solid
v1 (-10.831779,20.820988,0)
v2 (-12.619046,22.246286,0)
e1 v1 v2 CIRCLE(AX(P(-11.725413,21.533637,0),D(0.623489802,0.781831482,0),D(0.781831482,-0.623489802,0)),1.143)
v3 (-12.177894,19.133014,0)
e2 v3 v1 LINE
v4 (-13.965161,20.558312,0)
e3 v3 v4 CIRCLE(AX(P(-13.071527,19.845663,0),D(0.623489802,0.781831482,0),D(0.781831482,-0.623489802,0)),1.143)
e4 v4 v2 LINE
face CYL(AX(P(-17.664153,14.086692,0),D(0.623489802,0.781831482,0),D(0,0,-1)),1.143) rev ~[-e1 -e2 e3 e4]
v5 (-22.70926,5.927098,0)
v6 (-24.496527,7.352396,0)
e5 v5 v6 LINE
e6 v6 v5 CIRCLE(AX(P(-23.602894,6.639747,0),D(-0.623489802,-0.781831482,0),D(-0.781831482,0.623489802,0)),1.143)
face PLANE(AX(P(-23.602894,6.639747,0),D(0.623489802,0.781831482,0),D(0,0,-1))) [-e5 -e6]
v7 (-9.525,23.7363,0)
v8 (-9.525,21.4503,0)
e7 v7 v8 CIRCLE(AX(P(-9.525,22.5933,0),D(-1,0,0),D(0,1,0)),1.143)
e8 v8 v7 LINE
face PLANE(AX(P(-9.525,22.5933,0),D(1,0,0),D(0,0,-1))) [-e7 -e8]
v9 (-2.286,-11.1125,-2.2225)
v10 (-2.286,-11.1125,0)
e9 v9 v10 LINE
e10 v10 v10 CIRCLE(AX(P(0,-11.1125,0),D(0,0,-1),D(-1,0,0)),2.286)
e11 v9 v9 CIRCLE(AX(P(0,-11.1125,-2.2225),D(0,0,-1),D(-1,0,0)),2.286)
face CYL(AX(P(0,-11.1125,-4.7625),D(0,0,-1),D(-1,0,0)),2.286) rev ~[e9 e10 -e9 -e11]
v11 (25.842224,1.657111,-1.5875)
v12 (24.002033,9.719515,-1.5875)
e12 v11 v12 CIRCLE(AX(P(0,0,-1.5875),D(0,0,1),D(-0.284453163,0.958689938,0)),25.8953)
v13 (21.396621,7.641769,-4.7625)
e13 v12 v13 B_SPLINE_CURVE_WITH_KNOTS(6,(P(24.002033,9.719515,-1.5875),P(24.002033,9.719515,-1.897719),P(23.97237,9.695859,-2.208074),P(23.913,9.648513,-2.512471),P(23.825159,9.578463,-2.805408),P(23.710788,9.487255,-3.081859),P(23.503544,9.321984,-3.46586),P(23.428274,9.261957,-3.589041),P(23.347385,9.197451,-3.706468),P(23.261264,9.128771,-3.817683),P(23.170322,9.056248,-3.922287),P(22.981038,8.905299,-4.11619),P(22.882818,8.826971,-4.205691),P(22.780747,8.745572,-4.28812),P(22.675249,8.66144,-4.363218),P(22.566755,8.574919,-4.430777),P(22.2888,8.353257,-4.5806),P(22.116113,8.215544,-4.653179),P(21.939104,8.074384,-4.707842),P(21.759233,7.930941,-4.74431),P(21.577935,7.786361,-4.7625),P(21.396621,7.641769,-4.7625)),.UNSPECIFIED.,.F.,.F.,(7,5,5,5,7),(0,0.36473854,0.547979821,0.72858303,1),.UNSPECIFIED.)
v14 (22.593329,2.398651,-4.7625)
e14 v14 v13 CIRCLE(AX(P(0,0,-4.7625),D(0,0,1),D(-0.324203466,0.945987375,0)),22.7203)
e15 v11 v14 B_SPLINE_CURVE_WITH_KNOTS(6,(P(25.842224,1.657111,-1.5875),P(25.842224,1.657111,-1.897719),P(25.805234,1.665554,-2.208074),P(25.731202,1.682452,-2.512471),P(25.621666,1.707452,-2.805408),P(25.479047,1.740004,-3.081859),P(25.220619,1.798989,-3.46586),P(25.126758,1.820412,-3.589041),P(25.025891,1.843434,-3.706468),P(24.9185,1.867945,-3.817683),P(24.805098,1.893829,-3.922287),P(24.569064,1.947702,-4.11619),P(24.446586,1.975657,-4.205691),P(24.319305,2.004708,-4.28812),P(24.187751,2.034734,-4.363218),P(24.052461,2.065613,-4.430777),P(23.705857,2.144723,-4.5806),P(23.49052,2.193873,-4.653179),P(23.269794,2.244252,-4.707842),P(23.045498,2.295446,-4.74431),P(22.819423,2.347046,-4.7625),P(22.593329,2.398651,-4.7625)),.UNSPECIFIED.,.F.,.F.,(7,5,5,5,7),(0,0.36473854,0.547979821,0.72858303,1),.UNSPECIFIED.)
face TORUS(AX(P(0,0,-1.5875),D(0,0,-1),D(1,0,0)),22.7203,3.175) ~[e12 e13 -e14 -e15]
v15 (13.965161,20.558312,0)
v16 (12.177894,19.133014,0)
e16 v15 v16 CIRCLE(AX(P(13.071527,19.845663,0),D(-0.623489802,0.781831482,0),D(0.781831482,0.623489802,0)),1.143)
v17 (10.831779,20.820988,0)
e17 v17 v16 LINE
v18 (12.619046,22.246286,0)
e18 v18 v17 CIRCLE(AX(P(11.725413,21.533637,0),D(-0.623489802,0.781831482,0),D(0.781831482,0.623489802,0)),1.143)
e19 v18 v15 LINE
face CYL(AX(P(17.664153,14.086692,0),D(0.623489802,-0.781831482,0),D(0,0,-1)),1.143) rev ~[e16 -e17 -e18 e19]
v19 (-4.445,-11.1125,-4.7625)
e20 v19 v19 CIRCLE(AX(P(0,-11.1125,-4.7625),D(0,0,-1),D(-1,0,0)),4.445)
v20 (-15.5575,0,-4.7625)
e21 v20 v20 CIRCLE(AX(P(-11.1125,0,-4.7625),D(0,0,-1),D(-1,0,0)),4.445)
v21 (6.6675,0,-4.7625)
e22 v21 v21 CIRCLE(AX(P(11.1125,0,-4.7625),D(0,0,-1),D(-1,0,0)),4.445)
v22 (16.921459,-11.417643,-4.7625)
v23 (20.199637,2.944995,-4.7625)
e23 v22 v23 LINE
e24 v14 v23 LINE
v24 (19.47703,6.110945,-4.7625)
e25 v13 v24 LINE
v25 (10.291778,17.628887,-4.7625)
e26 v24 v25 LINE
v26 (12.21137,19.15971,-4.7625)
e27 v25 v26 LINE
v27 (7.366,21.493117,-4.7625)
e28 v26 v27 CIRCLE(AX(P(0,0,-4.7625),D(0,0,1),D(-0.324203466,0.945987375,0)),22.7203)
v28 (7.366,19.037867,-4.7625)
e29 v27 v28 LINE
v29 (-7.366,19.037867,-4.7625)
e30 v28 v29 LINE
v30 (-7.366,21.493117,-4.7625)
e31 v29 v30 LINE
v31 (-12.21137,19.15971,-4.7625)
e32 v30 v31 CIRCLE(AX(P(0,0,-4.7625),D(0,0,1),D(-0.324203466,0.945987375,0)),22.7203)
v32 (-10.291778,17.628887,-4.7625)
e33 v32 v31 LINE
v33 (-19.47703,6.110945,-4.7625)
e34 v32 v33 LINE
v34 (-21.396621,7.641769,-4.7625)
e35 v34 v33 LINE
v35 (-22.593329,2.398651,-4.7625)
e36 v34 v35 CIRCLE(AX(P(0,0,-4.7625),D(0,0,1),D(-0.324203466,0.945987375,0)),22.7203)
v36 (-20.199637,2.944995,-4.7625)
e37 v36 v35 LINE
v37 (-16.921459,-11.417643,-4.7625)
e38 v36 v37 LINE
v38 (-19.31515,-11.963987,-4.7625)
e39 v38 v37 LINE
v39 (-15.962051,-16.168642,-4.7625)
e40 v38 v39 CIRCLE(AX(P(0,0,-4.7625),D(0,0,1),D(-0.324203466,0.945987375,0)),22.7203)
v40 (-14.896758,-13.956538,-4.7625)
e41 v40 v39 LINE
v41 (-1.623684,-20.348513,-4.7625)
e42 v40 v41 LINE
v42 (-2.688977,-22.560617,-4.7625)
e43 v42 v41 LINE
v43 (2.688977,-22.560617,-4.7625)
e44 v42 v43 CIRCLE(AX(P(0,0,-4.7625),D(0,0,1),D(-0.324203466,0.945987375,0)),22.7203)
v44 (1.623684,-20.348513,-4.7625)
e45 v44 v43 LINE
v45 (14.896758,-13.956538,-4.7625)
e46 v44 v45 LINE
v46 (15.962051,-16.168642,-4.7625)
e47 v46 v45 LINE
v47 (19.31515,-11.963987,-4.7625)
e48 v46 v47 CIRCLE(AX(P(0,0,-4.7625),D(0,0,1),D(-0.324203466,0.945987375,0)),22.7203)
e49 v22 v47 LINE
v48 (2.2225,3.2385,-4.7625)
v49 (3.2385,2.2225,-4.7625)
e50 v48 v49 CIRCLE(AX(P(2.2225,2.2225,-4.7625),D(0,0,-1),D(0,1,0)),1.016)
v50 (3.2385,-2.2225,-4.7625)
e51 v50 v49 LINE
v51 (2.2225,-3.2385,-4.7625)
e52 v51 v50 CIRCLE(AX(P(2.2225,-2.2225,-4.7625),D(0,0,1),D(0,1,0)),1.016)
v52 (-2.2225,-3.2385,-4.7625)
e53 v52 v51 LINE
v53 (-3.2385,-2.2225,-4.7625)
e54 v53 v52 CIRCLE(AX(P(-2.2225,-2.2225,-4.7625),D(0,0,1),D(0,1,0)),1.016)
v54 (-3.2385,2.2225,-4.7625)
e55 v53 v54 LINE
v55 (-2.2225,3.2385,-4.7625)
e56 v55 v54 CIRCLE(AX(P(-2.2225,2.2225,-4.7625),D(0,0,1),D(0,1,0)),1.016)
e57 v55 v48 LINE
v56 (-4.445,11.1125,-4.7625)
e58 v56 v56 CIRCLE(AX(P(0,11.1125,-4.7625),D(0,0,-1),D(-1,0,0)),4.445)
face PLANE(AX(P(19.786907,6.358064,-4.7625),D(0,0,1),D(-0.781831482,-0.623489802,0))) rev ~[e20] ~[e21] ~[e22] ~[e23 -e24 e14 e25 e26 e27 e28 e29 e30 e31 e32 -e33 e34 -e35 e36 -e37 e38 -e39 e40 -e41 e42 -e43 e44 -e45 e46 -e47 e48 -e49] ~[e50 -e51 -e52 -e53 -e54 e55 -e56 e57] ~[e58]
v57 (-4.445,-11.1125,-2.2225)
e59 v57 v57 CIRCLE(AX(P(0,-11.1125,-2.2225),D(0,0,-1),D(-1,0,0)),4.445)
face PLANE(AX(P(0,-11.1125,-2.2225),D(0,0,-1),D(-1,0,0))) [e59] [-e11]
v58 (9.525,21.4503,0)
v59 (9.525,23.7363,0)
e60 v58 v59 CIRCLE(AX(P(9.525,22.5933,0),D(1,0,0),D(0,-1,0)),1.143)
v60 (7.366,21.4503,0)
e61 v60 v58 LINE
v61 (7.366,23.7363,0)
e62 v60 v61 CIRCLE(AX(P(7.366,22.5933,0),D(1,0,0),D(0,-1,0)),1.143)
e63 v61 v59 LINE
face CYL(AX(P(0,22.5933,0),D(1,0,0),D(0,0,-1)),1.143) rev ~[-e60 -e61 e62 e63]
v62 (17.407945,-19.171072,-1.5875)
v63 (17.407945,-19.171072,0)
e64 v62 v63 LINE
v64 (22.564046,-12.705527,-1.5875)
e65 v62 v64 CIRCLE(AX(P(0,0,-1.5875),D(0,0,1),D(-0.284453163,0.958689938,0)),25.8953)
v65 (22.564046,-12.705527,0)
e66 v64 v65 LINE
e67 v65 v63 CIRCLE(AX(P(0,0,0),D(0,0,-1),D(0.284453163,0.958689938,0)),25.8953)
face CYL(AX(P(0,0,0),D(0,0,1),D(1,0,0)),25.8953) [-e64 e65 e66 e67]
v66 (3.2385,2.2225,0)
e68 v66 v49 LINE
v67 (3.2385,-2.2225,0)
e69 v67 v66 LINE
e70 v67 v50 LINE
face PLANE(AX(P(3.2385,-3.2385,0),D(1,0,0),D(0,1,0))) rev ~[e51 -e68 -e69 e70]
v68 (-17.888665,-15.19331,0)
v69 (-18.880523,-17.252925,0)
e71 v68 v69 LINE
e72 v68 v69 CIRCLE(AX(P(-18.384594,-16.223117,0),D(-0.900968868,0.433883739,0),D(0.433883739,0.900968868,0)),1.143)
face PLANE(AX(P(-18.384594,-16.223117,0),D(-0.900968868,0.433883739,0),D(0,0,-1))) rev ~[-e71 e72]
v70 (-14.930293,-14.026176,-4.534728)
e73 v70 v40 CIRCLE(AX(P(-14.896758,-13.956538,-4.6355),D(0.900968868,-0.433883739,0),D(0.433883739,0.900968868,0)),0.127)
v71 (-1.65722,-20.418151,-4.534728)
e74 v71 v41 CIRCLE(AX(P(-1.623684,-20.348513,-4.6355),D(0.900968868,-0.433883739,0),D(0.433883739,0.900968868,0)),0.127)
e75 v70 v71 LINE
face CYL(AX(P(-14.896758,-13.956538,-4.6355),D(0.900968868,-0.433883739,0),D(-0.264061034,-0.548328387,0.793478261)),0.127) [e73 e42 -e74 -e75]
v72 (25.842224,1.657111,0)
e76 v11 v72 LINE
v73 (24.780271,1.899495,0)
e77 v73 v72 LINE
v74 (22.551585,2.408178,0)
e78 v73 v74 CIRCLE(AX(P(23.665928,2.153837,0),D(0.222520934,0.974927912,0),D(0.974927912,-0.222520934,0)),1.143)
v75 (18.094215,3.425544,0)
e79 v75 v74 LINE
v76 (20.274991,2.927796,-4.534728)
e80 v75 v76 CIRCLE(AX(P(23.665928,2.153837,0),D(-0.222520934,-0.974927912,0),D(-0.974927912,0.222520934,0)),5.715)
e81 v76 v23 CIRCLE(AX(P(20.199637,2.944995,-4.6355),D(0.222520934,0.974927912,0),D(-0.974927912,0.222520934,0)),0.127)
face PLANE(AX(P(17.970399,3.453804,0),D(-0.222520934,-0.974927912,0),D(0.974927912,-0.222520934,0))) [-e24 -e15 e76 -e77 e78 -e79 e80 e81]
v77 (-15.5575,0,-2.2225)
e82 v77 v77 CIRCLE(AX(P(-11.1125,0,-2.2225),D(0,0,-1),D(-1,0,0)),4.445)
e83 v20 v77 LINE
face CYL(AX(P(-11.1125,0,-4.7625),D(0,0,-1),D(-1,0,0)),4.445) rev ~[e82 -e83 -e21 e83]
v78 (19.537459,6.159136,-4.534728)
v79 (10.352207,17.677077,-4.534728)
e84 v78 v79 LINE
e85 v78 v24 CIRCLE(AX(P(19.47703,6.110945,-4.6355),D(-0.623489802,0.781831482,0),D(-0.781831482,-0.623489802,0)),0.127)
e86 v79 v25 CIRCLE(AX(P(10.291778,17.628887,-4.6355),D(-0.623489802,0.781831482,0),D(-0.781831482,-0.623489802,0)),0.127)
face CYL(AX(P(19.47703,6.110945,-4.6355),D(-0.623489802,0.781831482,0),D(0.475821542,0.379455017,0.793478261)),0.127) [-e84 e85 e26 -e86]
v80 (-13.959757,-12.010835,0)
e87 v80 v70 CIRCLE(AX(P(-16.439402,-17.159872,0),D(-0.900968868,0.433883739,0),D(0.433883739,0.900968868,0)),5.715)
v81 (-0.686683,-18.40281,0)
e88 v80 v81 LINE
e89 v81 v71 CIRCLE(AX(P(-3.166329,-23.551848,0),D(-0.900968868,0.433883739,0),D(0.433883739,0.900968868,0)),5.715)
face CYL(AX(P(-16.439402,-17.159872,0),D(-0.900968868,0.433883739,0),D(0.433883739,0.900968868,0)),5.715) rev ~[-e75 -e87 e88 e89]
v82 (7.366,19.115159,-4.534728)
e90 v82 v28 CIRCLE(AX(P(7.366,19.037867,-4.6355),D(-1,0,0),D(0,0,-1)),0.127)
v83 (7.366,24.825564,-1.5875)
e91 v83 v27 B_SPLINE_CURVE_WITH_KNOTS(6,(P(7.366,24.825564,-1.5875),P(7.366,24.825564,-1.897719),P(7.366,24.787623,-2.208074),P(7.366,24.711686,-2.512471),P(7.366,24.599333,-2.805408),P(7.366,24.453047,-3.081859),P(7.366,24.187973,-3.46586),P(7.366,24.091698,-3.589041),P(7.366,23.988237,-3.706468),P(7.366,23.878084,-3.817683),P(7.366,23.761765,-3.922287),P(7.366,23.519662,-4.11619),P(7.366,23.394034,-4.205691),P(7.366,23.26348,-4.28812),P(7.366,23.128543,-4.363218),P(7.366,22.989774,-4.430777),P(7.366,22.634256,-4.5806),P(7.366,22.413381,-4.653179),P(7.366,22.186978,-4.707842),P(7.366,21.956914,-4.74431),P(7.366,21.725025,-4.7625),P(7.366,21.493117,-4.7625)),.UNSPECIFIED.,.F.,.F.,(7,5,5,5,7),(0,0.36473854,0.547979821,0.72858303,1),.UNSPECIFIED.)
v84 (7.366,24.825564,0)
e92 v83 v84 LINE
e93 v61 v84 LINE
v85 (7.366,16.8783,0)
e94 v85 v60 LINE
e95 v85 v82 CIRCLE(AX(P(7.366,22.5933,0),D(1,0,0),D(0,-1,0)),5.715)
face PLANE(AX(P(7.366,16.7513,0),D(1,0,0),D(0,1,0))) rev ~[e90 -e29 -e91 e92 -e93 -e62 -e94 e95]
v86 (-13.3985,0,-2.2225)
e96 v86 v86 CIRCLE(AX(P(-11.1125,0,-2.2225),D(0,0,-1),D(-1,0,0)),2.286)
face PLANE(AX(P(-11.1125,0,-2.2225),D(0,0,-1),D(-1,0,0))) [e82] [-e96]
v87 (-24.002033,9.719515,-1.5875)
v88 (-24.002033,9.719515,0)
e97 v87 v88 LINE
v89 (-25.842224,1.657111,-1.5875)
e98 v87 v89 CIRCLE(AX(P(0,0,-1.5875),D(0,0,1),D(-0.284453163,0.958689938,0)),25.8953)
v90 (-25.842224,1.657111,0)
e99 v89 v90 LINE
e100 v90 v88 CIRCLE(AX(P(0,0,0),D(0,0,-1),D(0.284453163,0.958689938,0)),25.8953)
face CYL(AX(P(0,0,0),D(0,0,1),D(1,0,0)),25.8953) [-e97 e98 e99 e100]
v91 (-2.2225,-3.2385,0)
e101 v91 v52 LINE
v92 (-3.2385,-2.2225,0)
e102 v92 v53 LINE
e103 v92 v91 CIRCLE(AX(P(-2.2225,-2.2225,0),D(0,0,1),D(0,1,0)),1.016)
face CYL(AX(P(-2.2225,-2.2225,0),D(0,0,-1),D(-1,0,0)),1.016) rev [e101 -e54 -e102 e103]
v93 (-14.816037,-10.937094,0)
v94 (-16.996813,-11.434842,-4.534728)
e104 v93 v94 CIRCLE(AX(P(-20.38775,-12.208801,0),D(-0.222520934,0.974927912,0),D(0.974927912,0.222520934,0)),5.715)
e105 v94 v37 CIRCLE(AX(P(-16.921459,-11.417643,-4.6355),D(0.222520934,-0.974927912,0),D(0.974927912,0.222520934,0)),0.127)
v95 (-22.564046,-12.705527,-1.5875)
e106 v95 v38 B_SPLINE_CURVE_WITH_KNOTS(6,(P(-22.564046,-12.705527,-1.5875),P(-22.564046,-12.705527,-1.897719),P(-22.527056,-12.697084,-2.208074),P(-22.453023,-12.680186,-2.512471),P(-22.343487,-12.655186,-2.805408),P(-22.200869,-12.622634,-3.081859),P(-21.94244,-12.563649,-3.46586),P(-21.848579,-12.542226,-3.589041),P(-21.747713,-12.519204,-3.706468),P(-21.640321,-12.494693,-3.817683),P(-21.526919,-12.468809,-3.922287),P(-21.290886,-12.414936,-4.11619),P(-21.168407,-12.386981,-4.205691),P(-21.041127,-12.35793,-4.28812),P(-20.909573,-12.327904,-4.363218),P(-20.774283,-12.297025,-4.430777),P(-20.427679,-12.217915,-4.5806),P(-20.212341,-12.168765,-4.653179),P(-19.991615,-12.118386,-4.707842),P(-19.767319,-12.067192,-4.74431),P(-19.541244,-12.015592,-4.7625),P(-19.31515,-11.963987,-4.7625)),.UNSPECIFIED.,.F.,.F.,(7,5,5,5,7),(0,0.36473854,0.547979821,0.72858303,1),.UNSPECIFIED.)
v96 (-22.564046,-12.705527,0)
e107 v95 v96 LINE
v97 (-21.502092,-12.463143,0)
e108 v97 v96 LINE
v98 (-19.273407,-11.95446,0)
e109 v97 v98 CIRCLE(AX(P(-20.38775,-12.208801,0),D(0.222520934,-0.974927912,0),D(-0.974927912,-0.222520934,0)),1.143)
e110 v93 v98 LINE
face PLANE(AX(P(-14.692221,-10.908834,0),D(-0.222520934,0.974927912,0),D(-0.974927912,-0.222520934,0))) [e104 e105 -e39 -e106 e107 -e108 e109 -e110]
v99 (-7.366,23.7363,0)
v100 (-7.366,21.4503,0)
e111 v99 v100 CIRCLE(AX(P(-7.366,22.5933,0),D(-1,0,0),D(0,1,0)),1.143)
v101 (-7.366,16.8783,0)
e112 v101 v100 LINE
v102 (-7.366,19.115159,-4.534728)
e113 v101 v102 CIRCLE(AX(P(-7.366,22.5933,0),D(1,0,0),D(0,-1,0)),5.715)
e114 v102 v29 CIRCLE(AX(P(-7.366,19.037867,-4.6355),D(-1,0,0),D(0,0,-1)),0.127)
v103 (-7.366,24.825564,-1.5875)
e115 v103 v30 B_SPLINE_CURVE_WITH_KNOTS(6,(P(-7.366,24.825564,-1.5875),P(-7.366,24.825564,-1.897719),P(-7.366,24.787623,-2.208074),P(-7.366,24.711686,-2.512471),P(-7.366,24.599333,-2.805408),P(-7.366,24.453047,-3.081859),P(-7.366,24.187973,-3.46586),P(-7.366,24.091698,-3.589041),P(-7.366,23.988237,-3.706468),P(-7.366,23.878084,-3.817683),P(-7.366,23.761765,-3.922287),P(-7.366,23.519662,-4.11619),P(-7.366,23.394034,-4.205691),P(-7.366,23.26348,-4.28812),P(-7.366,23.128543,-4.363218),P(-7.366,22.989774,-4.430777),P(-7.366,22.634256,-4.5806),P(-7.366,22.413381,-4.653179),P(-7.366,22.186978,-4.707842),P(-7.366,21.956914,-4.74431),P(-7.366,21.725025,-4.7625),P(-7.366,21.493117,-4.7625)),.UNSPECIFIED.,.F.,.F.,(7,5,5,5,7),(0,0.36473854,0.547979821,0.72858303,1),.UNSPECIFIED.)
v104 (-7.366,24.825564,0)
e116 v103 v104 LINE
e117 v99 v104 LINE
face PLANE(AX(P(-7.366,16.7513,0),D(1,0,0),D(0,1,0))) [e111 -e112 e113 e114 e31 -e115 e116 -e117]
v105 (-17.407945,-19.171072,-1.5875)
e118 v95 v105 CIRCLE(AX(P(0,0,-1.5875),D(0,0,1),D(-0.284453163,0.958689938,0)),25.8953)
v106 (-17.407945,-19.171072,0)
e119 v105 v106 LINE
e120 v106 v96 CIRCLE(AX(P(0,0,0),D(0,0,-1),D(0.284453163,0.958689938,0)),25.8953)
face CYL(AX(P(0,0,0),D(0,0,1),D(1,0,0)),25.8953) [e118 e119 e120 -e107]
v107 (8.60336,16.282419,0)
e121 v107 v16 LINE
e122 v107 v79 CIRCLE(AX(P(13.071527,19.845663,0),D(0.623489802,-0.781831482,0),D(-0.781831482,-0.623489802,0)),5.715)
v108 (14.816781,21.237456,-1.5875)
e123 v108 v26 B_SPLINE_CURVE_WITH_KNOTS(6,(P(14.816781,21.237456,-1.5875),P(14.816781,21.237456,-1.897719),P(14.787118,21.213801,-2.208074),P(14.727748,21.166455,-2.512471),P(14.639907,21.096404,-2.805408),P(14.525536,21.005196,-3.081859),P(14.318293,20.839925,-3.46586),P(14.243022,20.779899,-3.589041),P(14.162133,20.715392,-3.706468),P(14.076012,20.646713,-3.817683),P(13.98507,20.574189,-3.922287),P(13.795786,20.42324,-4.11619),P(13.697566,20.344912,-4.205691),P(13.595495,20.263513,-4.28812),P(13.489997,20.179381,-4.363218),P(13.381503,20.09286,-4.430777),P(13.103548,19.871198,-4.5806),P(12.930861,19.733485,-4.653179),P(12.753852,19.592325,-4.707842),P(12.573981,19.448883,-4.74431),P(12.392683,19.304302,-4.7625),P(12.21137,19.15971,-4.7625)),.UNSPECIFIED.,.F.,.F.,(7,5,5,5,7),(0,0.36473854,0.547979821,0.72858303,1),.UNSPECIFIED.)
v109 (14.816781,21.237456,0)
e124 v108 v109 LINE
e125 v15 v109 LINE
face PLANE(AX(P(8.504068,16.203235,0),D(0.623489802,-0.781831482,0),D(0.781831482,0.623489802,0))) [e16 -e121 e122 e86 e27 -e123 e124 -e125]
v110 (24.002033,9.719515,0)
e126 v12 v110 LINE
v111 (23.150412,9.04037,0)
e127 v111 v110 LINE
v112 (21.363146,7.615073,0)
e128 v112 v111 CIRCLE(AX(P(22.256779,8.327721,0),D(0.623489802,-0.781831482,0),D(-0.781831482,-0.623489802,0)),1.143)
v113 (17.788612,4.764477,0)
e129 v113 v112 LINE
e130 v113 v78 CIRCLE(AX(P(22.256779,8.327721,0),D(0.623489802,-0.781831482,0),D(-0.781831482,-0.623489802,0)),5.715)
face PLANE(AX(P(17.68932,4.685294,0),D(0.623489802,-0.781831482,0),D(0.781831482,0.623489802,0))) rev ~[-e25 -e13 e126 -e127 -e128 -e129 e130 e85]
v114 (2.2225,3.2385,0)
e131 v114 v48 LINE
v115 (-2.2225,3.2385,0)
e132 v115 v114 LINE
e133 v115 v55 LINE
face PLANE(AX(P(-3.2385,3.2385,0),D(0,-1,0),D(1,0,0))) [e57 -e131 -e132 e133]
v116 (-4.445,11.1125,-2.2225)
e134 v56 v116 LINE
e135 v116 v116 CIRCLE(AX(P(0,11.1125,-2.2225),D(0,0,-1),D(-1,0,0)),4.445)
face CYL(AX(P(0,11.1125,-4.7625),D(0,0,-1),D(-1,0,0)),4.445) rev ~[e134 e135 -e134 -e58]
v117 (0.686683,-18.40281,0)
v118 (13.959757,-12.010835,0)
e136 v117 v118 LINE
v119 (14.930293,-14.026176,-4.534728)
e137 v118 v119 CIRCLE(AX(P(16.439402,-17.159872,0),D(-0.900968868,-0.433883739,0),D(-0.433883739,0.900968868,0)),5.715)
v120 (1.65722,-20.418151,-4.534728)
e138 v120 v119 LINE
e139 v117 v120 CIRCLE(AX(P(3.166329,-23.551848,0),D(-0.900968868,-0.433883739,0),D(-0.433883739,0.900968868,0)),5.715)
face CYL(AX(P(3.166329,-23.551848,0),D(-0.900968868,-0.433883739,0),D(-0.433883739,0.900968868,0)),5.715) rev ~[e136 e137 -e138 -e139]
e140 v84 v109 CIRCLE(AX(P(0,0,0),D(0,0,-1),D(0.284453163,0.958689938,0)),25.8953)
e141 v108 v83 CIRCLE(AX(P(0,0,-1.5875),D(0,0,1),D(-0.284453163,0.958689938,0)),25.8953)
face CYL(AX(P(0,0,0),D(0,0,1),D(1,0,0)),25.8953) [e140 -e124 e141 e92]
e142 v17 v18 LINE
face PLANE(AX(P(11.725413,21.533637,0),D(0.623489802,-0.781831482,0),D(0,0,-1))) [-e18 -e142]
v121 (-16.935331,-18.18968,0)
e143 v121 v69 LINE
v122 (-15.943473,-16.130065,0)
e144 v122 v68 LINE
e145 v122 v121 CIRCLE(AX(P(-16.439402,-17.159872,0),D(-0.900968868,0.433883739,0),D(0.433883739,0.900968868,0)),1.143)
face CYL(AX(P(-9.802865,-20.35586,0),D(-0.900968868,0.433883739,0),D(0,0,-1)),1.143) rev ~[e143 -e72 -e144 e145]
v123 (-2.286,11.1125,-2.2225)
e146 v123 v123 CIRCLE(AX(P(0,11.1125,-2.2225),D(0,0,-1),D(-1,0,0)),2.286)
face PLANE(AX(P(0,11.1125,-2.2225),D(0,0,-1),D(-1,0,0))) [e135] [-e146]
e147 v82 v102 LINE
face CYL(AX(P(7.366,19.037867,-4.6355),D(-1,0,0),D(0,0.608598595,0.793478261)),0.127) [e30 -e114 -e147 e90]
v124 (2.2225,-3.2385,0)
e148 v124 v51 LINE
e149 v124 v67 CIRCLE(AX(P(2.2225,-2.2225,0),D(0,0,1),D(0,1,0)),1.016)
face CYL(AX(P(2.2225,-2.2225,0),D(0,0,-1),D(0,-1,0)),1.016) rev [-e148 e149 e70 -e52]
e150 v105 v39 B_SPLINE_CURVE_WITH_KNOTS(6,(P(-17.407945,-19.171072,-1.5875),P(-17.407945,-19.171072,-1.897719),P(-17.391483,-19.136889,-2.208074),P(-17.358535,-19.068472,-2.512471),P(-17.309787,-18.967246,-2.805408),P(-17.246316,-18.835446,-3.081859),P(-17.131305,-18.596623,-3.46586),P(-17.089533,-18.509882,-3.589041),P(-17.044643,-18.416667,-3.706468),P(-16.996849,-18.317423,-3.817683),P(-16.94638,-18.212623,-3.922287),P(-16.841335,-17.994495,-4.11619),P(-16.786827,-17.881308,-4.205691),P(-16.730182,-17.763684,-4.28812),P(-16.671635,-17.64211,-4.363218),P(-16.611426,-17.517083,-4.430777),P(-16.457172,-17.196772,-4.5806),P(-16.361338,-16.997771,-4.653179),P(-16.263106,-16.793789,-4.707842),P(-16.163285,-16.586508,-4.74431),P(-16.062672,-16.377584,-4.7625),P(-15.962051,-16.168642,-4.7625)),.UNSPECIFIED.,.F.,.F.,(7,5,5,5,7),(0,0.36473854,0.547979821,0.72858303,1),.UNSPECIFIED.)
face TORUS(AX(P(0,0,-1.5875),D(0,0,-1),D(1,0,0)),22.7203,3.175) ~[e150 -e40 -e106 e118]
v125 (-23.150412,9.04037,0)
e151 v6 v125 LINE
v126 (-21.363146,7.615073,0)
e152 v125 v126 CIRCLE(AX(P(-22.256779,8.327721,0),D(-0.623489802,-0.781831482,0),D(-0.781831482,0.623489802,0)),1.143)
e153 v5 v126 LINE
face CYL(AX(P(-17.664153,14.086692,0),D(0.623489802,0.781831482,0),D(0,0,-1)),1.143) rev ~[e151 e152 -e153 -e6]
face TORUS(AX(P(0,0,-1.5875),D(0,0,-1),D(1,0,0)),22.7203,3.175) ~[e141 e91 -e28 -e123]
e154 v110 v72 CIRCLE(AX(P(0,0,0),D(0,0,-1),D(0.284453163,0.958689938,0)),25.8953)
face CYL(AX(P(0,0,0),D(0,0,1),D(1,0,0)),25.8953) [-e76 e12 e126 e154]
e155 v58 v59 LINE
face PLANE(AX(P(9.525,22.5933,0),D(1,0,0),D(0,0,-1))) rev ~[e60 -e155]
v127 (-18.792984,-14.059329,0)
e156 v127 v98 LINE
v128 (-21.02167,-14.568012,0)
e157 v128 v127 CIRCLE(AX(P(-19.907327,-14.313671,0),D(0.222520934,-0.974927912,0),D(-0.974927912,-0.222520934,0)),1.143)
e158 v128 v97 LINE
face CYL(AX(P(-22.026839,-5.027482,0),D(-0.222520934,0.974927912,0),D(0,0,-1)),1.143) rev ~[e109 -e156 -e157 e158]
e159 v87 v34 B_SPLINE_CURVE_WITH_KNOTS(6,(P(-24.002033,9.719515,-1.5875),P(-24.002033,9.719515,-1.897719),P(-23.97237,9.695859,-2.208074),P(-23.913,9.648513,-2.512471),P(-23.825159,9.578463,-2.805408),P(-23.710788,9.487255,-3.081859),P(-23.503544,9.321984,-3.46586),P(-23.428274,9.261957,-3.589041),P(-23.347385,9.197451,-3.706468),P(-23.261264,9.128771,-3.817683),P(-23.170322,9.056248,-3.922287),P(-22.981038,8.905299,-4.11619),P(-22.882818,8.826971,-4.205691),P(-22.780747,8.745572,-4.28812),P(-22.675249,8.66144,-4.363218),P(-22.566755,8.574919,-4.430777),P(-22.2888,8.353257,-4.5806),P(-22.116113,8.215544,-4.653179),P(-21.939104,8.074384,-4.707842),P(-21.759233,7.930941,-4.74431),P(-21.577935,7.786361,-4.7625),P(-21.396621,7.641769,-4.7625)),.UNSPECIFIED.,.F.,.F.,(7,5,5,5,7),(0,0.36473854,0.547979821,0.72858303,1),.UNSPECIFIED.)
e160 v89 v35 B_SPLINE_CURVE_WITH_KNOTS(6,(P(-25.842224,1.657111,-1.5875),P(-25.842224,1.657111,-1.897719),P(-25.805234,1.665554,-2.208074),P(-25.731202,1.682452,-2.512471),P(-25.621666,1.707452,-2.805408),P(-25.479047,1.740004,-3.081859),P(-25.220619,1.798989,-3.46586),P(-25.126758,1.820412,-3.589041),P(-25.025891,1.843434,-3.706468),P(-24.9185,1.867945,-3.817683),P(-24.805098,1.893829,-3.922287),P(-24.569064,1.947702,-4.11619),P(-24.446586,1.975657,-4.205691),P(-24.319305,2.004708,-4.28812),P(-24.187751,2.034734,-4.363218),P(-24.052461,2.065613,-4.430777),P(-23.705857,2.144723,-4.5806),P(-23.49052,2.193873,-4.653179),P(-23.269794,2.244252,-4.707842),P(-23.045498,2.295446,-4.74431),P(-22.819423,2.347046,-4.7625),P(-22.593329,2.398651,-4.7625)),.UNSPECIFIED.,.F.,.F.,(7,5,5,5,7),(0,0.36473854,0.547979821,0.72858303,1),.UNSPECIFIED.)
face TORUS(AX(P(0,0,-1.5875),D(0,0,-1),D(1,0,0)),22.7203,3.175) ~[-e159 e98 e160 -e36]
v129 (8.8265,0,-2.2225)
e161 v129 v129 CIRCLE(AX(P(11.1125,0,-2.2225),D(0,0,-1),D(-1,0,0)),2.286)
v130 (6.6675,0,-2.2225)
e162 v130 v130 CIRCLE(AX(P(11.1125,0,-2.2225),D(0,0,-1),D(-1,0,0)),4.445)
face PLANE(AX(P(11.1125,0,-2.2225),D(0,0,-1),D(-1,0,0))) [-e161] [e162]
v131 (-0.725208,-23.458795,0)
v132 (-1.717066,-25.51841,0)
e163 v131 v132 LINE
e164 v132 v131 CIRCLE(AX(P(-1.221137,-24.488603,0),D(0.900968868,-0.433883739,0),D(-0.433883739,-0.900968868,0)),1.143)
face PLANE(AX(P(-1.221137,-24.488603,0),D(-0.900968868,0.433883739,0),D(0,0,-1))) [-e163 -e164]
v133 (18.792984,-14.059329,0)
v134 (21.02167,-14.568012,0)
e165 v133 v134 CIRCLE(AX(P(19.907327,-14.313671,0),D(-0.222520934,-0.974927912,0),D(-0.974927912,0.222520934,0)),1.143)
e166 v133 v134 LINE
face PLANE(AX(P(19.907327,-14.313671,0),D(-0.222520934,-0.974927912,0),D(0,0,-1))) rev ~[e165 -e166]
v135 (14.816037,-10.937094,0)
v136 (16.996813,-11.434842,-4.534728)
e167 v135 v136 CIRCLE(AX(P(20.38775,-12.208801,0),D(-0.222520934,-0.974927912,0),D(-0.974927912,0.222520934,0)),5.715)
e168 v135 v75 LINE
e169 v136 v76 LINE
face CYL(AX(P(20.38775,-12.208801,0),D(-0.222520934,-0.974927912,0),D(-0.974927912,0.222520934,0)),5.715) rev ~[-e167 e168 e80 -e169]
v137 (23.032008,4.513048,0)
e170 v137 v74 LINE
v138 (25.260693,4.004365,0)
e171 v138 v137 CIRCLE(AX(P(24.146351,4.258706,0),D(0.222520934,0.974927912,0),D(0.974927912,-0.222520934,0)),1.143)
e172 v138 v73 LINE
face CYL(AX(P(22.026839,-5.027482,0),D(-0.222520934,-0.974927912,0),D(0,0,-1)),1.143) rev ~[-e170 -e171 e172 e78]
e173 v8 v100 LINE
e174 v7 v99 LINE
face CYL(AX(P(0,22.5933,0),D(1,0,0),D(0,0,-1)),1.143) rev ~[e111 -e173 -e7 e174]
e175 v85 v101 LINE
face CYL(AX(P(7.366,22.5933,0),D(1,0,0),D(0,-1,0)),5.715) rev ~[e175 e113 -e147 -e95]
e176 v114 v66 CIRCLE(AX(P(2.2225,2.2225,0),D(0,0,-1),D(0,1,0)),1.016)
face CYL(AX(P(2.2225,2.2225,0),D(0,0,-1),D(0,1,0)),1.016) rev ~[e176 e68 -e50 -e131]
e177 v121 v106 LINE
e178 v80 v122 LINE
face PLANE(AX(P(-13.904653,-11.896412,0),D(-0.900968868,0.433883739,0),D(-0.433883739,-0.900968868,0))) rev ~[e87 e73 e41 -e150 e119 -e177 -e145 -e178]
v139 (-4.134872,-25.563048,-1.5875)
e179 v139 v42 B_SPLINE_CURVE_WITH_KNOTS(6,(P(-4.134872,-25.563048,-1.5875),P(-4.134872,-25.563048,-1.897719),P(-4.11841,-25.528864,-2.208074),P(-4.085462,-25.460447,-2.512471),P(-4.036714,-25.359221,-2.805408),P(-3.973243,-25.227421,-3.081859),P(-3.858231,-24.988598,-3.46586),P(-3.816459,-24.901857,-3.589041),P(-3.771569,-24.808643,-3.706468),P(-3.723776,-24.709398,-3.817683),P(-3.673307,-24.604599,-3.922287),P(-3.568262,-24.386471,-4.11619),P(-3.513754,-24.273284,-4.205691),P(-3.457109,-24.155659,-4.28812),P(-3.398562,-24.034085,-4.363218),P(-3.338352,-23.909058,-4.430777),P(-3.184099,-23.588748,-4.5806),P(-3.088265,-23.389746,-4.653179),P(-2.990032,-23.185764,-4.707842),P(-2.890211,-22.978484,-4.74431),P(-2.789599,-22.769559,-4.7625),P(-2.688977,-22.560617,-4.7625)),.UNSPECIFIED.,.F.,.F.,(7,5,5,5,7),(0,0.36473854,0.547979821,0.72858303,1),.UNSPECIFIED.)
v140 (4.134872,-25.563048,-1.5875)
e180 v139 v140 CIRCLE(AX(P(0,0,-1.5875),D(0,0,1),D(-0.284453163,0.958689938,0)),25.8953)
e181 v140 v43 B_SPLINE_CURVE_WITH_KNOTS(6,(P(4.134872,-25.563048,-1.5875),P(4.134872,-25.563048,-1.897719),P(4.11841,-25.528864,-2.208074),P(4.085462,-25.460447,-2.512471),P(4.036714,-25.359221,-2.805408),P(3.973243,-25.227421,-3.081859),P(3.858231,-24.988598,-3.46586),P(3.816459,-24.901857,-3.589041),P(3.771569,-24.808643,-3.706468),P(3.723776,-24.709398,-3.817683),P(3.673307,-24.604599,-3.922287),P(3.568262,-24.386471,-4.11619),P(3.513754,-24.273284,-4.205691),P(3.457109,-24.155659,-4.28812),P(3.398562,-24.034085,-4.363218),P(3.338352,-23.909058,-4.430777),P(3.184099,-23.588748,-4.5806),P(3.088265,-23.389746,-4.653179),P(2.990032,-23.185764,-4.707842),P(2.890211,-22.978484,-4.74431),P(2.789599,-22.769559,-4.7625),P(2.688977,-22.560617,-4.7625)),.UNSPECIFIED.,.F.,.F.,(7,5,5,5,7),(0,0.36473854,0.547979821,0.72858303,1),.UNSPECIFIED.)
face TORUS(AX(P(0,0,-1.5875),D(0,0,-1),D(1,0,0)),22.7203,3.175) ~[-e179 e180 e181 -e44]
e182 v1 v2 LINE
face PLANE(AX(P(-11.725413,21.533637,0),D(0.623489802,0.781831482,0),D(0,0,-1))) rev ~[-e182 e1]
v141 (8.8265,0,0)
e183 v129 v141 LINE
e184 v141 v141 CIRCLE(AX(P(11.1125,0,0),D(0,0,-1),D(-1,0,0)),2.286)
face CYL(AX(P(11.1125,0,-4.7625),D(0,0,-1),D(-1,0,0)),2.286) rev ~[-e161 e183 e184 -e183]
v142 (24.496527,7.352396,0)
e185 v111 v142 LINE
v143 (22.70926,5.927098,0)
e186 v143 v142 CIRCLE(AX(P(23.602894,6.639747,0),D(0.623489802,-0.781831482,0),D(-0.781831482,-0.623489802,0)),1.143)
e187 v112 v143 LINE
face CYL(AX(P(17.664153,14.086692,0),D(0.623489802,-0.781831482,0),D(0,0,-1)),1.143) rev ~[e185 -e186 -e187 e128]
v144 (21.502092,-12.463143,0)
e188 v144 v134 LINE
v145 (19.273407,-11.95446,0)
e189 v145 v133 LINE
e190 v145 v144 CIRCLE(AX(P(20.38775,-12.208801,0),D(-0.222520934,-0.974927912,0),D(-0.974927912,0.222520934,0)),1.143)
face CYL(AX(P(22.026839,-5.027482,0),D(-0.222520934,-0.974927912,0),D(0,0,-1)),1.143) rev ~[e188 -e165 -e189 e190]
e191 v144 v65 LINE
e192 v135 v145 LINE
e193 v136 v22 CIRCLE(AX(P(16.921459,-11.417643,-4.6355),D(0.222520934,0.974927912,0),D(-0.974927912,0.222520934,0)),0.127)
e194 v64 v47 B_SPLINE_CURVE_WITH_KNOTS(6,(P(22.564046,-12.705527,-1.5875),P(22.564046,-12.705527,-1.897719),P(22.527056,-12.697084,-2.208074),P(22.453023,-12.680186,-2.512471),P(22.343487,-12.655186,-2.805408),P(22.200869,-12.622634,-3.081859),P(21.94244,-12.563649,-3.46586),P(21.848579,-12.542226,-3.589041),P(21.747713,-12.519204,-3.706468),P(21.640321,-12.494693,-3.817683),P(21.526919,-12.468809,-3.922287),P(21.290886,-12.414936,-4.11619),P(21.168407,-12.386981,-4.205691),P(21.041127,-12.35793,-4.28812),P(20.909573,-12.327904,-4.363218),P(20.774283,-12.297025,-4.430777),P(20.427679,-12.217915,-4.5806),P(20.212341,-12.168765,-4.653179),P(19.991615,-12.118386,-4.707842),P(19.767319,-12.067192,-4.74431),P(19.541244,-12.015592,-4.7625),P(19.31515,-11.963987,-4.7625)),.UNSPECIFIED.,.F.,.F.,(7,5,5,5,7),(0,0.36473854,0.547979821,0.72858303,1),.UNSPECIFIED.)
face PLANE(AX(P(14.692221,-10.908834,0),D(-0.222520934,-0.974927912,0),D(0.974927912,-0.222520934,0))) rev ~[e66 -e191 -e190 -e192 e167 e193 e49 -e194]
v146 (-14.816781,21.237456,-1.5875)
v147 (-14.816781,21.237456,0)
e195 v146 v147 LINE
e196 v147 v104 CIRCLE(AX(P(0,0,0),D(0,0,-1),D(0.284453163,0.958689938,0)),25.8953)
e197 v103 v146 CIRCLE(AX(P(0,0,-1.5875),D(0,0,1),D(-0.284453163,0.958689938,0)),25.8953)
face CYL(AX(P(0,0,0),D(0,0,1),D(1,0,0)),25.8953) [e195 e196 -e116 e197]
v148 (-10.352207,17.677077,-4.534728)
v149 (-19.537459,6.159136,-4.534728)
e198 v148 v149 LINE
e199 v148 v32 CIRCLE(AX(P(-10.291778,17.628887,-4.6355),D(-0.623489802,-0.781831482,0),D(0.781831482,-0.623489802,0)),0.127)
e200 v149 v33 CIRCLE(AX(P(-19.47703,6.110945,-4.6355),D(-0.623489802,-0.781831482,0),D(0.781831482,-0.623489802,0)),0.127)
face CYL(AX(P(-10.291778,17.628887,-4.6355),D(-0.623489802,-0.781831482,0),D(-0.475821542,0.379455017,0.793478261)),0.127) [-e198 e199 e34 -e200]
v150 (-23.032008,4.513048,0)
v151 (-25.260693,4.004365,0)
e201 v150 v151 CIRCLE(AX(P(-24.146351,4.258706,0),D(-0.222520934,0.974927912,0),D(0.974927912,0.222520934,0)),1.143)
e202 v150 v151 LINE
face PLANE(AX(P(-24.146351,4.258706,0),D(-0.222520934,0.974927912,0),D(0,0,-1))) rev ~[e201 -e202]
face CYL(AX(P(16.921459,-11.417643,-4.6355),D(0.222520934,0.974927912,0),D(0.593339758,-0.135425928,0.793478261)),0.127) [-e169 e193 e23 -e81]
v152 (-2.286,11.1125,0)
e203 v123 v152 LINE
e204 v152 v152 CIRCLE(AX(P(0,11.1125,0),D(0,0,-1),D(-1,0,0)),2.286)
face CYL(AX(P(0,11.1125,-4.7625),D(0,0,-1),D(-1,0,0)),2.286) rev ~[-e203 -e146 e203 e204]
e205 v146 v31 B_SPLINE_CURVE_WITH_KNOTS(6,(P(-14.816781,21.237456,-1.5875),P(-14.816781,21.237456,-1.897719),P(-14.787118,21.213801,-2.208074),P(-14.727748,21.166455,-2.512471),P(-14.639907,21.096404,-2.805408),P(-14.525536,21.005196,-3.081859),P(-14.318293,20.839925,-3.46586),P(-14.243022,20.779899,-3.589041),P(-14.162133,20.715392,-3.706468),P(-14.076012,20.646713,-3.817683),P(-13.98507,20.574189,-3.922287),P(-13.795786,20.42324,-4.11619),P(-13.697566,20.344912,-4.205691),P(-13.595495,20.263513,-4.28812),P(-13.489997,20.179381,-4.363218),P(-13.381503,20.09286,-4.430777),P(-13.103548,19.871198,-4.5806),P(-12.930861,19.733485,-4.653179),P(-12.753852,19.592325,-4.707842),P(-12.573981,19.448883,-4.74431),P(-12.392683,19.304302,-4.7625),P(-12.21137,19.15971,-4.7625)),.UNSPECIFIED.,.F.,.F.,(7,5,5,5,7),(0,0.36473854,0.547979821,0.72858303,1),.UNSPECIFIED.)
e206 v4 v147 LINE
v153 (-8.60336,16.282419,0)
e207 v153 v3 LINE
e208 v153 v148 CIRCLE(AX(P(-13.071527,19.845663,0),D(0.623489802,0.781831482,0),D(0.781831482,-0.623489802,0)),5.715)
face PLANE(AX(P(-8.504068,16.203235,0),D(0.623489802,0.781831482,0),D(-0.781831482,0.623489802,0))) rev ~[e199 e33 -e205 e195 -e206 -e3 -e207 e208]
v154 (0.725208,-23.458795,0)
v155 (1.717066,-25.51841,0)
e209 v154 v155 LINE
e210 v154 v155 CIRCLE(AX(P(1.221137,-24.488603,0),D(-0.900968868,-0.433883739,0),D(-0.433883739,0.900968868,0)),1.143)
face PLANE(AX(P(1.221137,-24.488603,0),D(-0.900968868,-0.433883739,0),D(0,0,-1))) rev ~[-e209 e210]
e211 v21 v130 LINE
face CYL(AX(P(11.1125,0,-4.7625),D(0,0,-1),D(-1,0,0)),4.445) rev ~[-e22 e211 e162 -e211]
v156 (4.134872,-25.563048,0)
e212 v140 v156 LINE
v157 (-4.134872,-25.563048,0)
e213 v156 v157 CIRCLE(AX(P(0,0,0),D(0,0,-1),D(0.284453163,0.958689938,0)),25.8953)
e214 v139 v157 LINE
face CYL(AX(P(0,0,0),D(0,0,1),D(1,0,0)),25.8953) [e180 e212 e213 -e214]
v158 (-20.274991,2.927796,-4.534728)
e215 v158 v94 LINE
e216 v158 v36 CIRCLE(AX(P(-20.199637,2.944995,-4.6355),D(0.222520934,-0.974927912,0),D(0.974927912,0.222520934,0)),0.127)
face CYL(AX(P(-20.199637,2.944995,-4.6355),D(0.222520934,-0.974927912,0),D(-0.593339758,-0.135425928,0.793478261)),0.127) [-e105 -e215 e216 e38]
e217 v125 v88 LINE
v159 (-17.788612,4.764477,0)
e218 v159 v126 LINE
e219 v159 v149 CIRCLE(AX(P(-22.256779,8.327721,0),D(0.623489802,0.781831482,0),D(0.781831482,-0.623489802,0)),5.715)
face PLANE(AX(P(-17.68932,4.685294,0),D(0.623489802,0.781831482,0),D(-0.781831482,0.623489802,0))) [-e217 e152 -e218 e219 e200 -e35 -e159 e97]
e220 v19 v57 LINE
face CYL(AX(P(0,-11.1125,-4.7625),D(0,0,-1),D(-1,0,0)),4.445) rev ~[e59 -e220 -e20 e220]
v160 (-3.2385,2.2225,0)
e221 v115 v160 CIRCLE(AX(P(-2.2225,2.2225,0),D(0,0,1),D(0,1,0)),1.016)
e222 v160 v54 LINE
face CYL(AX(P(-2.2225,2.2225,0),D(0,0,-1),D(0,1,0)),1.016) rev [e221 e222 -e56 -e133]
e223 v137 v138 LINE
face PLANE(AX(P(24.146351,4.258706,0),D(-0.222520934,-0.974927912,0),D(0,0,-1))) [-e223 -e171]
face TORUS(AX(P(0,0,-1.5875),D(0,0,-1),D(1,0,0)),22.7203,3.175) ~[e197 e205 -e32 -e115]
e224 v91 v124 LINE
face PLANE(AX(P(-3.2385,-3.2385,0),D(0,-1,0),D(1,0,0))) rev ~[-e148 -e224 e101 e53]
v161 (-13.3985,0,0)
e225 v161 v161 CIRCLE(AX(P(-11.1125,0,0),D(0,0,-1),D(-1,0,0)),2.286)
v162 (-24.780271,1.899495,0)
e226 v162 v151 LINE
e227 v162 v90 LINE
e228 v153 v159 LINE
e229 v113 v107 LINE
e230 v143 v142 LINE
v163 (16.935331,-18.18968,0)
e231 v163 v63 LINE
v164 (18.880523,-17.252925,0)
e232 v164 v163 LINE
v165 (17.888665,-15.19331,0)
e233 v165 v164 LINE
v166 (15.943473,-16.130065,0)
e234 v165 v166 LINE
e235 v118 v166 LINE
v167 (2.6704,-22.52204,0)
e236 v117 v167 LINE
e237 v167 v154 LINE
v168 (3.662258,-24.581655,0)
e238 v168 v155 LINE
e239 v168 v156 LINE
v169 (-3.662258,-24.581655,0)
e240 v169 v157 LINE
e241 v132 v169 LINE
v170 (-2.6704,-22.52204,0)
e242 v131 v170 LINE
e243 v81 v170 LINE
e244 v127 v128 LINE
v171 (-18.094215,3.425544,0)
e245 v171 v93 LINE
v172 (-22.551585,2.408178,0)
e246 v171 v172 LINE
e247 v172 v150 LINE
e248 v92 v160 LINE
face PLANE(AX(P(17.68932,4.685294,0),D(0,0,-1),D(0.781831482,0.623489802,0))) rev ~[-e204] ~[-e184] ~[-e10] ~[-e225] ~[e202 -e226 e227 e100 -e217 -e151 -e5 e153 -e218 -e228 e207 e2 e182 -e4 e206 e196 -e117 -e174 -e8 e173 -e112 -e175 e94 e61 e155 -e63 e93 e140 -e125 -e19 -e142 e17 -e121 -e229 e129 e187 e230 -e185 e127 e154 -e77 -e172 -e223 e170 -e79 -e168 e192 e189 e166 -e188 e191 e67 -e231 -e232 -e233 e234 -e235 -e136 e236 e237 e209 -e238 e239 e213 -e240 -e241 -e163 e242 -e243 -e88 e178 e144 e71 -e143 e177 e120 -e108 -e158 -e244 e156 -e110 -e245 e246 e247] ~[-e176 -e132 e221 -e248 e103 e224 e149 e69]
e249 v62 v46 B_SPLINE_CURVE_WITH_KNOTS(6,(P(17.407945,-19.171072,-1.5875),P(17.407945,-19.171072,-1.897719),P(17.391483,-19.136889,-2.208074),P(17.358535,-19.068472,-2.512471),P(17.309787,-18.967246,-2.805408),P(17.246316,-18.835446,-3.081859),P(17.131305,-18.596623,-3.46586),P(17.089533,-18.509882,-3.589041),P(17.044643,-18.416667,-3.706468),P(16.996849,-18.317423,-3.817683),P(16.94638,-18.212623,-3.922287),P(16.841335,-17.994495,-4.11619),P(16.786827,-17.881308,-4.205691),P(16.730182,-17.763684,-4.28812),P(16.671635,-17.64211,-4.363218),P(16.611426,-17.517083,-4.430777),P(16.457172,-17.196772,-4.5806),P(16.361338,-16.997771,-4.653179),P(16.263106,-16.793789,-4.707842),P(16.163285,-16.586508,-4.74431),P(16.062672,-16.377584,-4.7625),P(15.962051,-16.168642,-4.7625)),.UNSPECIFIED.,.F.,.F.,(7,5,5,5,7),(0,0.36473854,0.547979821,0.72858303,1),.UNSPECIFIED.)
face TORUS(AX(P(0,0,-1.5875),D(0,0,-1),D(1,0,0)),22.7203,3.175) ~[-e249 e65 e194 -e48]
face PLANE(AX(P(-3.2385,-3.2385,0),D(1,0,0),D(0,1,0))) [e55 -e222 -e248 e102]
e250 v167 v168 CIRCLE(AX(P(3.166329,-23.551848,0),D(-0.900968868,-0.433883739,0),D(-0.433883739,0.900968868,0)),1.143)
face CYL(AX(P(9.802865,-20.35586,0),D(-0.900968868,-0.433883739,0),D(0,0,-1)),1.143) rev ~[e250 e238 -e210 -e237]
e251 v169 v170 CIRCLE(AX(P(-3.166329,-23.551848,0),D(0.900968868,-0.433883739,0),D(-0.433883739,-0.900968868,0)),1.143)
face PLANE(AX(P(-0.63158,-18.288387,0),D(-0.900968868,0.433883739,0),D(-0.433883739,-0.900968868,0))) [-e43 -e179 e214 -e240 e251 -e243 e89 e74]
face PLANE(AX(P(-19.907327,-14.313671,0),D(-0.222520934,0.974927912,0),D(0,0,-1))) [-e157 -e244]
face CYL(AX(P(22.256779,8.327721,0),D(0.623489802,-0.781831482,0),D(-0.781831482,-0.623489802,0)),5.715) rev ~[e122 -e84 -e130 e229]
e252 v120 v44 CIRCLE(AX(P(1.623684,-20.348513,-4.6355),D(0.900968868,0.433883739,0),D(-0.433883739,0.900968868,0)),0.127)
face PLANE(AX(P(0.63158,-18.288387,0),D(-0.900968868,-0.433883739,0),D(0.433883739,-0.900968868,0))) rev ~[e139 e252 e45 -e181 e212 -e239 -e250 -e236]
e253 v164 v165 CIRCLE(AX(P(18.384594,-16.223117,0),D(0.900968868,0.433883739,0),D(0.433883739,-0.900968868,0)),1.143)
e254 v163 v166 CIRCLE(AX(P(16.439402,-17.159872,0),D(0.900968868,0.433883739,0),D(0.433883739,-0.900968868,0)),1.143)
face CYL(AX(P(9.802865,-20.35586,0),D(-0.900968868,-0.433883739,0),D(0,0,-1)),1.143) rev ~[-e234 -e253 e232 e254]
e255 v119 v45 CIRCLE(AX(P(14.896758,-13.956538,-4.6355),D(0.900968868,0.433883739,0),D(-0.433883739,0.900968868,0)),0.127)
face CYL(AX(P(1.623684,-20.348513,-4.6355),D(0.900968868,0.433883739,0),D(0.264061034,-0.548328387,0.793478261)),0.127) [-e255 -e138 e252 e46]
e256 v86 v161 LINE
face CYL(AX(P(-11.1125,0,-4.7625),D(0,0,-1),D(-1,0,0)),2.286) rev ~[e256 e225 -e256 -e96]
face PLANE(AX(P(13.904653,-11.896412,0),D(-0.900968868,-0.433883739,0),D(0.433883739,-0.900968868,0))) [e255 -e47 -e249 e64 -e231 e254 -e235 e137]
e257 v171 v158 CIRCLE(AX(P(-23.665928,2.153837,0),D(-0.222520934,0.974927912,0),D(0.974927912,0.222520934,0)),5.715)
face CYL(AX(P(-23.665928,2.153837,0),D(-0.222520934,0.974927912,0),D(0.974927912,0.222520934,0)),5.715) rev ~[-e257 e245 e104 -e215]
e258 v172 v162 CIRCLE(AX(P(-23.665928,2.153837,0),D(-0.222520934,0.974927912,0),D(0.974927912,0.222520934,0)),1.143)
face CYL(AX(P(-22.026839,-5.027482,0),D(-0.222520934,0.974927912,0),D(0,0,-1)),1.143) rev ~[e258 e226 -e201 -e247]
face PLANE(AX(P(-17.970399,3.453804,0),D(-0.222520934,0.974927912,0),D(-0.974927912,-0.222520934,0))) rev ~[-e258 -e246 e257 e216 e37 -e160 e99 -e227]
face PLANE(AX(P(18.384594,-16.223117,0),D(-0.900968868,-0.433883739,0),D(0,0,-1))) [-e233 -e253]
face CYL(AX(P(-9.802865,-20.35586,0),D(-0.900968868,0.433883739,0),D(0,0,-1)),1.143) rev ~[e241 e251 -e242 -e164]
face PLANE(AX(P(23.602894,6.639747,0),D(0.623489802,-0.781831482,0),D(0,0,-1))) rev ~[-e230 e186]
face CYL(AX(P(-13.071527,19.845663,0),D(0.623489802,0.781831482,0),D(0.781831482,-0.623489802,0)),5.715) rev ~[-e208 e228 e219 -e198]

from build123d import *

# Parameters (mm, degrees)
SKETCH1_R                = 25.8953
BOSS_EXTRUDE2_DEPTH      = 4.7625
FILLET1_R                = 3.175
SKETCH2_W                = 14.732
SKETCH2_H                = 10.414
CUT_EXTRUDE2_DEPTH       = 12.7
CIRPATTERN1_COUNT        = 7
SKETCH4_R                = 1.143
CUT_EXTRUDE4_DEPTH       = 9.525
CIRPATTERN2_COUNT        = 7
SKETCH5_W                = 6.477
SKETCH5_H                = 6.477
CUT_EXTRUDE5_DEPTH       = 37.89266219
SKETCH6_R                = 2.286
CUT_EXTRUDE7_DEPTH       = 37.89266219
SKETCH7_R                = 4.445
CUT_EXTRUDE8_DEPTH       = 2.54
BOSS_EXTRUDE4_REACH      = 44.38
FILLET2_R                = 0.127
CIRPATTERN5_COUNT        = 7
FILLET2_OF_CIRPATTERN5_R = 0.127
FILLET3_R                = 1.016


with BuildPart() as part:
    # Sketch1 → Boss-Extrude2 (new body)
    with BuildSketch(Plane.XY):
        Circle(SKETCH1_R)
    extrude(amount=-BOSS_EXTRUDE2_DEPTH)

    # Fillet1
    fillet1_edges = [part.edges().sort_by_distance(p)[0] for p in [
        (-25.8953, 0, -4.7625),
    ]]
    fillet(fillet1_edges, radius=FILLET1_R)

    # Sketch2 → Cut-Extrude2 (cut)
    with BuildSketch(Plane.XY):
        with Locations((0, 21.9583)):
            Rectangle(SKETCH2_W, SKETCH2_H)
    cut_extrude2 = extrude(amount=-CUT_EXTRUDE2_DEPTH, mode=Mode.SUBTRACT)

    # CirPattern1: Cut-Extrude2 ×7 about axis
    cirpattern1_axis = Axis((0, 0, 0), (0, 0, 1))
    for i in range(1, CIRPATTERN1_COUNT):
        add(cut_extrude2.rotate(cirpattern1_axis, i * 360 / CIRPATTERN1_COUNT), mode=Mode.SUBTRACT)

    # Sketch4 → Cut-Extrude4 (cut, symmetric)
    with BuildSketch(Plane(origin=(0, 0, 0), x_dir=(0, 0, -1), z_dir=(1, 0, 0))):
        with Locations((0, 22.5933)):
            Circle(SKETCH4_R)
    cut_extrude4 = extrude(amount=CUT_EXTRUDE4_DEPTH, both=True, mode=Mode.SUBTRACT)

    # CirPattern2: Cut-Extrude4 ×7 about axis
    cirpattern2_axis = Axis((0, 0, 0), (0, 0, 1))
    for i in range(1, CIRPATTERN2_COUNT):
        add(cut_extrude4.rotate(cirpattern2_axis, i * 360 / CIRPATTERN2_COUNT), mode=Mode.SUBTRACT)

    # Sketch5 → Cut-Extrude5 (cut, through all)
    with BuildSketch(Plane.XY):
        Rectangle(SKETCH5_W, SKETCH5_H)
    extrude(amount=-CUT_EXTRUDE5_DEPTH, mode=Mode.SUBTRACT)

    # Sketch6 → Cut-Extrude7 (cut, through all)
    with BuildSketch(Plane(origin=(0, 0, -4.7625), x_dir=(-1, 0, 0), z_dir=(0, 0, -1))):
        with Locations((0, 11.1125)):
            Circle(SKETCH6_R)
        with Locations((11.1125, 0)):
            Circle(SKETCH6_R)
        with Locations((0, -11.1125)):
            Circle(SKETCH6_R)
        with Locations((-11.1125, 0)):
            Circle(SKETCH6_R)
    extrude(amount=-CUT_EXTRUDE7_DEPTH, mode=Mode.SUBTRACT)

    # Sketch7 → Cut-Extrude8 (cut)
    with BuildSketch(Plane(origin=(0, 0, -4.7625), x_dir=(-1, 0, 0), z_dir=(0, 0, -1))):
        with Locations((-11.1125, 0)):
            Circle(SKETCH7_R)
        with Locations((11.1125, 0)):
            Circle(SKETCH7_R)
        with Locations((0, -11.1125)):
            Circle(SKETCH7_R)
        with Locations((0, 11.1125)):
            Circle(SKETCH7_R)
    extrude(amount=-CUT_EXTRUDE8_DEPTH, mode=Mode.SUBTRACT)

    # Sketch10 → Boss-Extrude4 (add, up to next)
    with BuildSketch(Plane.ZY.offset(-7.366), mode=Mode.PRIVATE) as boss_extrude4_sk1:
        with BuildLine():
            Line((-4.7625, 16.7513), (0, 16.7513))
            Line((0, 16.7513), (0, 16.8783))
            ThreePointArc((0, 16.8783), (-2.7025038, 17.55765722), (-4.7625, 19.434214887))
            Line((-4.7625, 19.434214887), (-4.7625, 16.7513))
        make_face()
    boss_extrude4_tool1 = extrude(boss_extrude4_sk1.sketch, amount=BOSS_EXTRUDE4_REACH, mode=Mode.PRIVATE) - part.part
    boss_extrude4 = boss_extrude4_tool1.solids().sort_by_distance((7.366, 17.489807, -3.452063))[0]
    add(boss_extrude4)

    # Fillet2
    fillet2_edges = [part.edges().sort_by_distance(p)[0] for p in [
        (0, 19.434214887, -4.7625),
    ]]
    fillet(fillet2_edges, radius=FILLET2_R)

    # CirPattern5: Boss-Extrude4 ×7 about axis
    cirpattern5_axis = Axis((0, 0, 0), (0, 0, 1))
    for i in range(1, CIRPATTERN5_COUNT):
        add(boss_extrude4.rotate(cirpattern5_axis, i * 360 / CIRPATTERN5_COUNT))

    # Fillet2 of CirPattern5
    fillet2_of_cirpattern5_edges = [part.edges().sort_by_distance(p)[0] for p in [
        (-15.194281036, 12.117034789, -4.7625),
        (-18.946958545, -4.324519647, -4.7625),
        (-8.432189822, -17.509622585, -4.7625),
        (8.432189822, -17.509622585, -4.7625),
        (18.946958545, -4.324519647, -4.7625),
        (15.194281036, 12.117034789, -4.7625),
    ]]
    fillet(fillet2_of_cirpattern5_edges, radius=FILLET2_OF_CIRPATTERN5_R)

    # Fillet3
    fillet3_edges = [part.edges().sort_by_distance(p)[0] for p in [
        (3.2385, 3.2385, -2.38125),
        (3.2385, -3.2385, -2.38125),
        (-3.2385, -3.2385, -2.38125),
        (-3.2385, 3.2385, -2.38125),
    ]]
    fillet(fillet3_edges, radius=FILLET3_R)


solid = part.part
